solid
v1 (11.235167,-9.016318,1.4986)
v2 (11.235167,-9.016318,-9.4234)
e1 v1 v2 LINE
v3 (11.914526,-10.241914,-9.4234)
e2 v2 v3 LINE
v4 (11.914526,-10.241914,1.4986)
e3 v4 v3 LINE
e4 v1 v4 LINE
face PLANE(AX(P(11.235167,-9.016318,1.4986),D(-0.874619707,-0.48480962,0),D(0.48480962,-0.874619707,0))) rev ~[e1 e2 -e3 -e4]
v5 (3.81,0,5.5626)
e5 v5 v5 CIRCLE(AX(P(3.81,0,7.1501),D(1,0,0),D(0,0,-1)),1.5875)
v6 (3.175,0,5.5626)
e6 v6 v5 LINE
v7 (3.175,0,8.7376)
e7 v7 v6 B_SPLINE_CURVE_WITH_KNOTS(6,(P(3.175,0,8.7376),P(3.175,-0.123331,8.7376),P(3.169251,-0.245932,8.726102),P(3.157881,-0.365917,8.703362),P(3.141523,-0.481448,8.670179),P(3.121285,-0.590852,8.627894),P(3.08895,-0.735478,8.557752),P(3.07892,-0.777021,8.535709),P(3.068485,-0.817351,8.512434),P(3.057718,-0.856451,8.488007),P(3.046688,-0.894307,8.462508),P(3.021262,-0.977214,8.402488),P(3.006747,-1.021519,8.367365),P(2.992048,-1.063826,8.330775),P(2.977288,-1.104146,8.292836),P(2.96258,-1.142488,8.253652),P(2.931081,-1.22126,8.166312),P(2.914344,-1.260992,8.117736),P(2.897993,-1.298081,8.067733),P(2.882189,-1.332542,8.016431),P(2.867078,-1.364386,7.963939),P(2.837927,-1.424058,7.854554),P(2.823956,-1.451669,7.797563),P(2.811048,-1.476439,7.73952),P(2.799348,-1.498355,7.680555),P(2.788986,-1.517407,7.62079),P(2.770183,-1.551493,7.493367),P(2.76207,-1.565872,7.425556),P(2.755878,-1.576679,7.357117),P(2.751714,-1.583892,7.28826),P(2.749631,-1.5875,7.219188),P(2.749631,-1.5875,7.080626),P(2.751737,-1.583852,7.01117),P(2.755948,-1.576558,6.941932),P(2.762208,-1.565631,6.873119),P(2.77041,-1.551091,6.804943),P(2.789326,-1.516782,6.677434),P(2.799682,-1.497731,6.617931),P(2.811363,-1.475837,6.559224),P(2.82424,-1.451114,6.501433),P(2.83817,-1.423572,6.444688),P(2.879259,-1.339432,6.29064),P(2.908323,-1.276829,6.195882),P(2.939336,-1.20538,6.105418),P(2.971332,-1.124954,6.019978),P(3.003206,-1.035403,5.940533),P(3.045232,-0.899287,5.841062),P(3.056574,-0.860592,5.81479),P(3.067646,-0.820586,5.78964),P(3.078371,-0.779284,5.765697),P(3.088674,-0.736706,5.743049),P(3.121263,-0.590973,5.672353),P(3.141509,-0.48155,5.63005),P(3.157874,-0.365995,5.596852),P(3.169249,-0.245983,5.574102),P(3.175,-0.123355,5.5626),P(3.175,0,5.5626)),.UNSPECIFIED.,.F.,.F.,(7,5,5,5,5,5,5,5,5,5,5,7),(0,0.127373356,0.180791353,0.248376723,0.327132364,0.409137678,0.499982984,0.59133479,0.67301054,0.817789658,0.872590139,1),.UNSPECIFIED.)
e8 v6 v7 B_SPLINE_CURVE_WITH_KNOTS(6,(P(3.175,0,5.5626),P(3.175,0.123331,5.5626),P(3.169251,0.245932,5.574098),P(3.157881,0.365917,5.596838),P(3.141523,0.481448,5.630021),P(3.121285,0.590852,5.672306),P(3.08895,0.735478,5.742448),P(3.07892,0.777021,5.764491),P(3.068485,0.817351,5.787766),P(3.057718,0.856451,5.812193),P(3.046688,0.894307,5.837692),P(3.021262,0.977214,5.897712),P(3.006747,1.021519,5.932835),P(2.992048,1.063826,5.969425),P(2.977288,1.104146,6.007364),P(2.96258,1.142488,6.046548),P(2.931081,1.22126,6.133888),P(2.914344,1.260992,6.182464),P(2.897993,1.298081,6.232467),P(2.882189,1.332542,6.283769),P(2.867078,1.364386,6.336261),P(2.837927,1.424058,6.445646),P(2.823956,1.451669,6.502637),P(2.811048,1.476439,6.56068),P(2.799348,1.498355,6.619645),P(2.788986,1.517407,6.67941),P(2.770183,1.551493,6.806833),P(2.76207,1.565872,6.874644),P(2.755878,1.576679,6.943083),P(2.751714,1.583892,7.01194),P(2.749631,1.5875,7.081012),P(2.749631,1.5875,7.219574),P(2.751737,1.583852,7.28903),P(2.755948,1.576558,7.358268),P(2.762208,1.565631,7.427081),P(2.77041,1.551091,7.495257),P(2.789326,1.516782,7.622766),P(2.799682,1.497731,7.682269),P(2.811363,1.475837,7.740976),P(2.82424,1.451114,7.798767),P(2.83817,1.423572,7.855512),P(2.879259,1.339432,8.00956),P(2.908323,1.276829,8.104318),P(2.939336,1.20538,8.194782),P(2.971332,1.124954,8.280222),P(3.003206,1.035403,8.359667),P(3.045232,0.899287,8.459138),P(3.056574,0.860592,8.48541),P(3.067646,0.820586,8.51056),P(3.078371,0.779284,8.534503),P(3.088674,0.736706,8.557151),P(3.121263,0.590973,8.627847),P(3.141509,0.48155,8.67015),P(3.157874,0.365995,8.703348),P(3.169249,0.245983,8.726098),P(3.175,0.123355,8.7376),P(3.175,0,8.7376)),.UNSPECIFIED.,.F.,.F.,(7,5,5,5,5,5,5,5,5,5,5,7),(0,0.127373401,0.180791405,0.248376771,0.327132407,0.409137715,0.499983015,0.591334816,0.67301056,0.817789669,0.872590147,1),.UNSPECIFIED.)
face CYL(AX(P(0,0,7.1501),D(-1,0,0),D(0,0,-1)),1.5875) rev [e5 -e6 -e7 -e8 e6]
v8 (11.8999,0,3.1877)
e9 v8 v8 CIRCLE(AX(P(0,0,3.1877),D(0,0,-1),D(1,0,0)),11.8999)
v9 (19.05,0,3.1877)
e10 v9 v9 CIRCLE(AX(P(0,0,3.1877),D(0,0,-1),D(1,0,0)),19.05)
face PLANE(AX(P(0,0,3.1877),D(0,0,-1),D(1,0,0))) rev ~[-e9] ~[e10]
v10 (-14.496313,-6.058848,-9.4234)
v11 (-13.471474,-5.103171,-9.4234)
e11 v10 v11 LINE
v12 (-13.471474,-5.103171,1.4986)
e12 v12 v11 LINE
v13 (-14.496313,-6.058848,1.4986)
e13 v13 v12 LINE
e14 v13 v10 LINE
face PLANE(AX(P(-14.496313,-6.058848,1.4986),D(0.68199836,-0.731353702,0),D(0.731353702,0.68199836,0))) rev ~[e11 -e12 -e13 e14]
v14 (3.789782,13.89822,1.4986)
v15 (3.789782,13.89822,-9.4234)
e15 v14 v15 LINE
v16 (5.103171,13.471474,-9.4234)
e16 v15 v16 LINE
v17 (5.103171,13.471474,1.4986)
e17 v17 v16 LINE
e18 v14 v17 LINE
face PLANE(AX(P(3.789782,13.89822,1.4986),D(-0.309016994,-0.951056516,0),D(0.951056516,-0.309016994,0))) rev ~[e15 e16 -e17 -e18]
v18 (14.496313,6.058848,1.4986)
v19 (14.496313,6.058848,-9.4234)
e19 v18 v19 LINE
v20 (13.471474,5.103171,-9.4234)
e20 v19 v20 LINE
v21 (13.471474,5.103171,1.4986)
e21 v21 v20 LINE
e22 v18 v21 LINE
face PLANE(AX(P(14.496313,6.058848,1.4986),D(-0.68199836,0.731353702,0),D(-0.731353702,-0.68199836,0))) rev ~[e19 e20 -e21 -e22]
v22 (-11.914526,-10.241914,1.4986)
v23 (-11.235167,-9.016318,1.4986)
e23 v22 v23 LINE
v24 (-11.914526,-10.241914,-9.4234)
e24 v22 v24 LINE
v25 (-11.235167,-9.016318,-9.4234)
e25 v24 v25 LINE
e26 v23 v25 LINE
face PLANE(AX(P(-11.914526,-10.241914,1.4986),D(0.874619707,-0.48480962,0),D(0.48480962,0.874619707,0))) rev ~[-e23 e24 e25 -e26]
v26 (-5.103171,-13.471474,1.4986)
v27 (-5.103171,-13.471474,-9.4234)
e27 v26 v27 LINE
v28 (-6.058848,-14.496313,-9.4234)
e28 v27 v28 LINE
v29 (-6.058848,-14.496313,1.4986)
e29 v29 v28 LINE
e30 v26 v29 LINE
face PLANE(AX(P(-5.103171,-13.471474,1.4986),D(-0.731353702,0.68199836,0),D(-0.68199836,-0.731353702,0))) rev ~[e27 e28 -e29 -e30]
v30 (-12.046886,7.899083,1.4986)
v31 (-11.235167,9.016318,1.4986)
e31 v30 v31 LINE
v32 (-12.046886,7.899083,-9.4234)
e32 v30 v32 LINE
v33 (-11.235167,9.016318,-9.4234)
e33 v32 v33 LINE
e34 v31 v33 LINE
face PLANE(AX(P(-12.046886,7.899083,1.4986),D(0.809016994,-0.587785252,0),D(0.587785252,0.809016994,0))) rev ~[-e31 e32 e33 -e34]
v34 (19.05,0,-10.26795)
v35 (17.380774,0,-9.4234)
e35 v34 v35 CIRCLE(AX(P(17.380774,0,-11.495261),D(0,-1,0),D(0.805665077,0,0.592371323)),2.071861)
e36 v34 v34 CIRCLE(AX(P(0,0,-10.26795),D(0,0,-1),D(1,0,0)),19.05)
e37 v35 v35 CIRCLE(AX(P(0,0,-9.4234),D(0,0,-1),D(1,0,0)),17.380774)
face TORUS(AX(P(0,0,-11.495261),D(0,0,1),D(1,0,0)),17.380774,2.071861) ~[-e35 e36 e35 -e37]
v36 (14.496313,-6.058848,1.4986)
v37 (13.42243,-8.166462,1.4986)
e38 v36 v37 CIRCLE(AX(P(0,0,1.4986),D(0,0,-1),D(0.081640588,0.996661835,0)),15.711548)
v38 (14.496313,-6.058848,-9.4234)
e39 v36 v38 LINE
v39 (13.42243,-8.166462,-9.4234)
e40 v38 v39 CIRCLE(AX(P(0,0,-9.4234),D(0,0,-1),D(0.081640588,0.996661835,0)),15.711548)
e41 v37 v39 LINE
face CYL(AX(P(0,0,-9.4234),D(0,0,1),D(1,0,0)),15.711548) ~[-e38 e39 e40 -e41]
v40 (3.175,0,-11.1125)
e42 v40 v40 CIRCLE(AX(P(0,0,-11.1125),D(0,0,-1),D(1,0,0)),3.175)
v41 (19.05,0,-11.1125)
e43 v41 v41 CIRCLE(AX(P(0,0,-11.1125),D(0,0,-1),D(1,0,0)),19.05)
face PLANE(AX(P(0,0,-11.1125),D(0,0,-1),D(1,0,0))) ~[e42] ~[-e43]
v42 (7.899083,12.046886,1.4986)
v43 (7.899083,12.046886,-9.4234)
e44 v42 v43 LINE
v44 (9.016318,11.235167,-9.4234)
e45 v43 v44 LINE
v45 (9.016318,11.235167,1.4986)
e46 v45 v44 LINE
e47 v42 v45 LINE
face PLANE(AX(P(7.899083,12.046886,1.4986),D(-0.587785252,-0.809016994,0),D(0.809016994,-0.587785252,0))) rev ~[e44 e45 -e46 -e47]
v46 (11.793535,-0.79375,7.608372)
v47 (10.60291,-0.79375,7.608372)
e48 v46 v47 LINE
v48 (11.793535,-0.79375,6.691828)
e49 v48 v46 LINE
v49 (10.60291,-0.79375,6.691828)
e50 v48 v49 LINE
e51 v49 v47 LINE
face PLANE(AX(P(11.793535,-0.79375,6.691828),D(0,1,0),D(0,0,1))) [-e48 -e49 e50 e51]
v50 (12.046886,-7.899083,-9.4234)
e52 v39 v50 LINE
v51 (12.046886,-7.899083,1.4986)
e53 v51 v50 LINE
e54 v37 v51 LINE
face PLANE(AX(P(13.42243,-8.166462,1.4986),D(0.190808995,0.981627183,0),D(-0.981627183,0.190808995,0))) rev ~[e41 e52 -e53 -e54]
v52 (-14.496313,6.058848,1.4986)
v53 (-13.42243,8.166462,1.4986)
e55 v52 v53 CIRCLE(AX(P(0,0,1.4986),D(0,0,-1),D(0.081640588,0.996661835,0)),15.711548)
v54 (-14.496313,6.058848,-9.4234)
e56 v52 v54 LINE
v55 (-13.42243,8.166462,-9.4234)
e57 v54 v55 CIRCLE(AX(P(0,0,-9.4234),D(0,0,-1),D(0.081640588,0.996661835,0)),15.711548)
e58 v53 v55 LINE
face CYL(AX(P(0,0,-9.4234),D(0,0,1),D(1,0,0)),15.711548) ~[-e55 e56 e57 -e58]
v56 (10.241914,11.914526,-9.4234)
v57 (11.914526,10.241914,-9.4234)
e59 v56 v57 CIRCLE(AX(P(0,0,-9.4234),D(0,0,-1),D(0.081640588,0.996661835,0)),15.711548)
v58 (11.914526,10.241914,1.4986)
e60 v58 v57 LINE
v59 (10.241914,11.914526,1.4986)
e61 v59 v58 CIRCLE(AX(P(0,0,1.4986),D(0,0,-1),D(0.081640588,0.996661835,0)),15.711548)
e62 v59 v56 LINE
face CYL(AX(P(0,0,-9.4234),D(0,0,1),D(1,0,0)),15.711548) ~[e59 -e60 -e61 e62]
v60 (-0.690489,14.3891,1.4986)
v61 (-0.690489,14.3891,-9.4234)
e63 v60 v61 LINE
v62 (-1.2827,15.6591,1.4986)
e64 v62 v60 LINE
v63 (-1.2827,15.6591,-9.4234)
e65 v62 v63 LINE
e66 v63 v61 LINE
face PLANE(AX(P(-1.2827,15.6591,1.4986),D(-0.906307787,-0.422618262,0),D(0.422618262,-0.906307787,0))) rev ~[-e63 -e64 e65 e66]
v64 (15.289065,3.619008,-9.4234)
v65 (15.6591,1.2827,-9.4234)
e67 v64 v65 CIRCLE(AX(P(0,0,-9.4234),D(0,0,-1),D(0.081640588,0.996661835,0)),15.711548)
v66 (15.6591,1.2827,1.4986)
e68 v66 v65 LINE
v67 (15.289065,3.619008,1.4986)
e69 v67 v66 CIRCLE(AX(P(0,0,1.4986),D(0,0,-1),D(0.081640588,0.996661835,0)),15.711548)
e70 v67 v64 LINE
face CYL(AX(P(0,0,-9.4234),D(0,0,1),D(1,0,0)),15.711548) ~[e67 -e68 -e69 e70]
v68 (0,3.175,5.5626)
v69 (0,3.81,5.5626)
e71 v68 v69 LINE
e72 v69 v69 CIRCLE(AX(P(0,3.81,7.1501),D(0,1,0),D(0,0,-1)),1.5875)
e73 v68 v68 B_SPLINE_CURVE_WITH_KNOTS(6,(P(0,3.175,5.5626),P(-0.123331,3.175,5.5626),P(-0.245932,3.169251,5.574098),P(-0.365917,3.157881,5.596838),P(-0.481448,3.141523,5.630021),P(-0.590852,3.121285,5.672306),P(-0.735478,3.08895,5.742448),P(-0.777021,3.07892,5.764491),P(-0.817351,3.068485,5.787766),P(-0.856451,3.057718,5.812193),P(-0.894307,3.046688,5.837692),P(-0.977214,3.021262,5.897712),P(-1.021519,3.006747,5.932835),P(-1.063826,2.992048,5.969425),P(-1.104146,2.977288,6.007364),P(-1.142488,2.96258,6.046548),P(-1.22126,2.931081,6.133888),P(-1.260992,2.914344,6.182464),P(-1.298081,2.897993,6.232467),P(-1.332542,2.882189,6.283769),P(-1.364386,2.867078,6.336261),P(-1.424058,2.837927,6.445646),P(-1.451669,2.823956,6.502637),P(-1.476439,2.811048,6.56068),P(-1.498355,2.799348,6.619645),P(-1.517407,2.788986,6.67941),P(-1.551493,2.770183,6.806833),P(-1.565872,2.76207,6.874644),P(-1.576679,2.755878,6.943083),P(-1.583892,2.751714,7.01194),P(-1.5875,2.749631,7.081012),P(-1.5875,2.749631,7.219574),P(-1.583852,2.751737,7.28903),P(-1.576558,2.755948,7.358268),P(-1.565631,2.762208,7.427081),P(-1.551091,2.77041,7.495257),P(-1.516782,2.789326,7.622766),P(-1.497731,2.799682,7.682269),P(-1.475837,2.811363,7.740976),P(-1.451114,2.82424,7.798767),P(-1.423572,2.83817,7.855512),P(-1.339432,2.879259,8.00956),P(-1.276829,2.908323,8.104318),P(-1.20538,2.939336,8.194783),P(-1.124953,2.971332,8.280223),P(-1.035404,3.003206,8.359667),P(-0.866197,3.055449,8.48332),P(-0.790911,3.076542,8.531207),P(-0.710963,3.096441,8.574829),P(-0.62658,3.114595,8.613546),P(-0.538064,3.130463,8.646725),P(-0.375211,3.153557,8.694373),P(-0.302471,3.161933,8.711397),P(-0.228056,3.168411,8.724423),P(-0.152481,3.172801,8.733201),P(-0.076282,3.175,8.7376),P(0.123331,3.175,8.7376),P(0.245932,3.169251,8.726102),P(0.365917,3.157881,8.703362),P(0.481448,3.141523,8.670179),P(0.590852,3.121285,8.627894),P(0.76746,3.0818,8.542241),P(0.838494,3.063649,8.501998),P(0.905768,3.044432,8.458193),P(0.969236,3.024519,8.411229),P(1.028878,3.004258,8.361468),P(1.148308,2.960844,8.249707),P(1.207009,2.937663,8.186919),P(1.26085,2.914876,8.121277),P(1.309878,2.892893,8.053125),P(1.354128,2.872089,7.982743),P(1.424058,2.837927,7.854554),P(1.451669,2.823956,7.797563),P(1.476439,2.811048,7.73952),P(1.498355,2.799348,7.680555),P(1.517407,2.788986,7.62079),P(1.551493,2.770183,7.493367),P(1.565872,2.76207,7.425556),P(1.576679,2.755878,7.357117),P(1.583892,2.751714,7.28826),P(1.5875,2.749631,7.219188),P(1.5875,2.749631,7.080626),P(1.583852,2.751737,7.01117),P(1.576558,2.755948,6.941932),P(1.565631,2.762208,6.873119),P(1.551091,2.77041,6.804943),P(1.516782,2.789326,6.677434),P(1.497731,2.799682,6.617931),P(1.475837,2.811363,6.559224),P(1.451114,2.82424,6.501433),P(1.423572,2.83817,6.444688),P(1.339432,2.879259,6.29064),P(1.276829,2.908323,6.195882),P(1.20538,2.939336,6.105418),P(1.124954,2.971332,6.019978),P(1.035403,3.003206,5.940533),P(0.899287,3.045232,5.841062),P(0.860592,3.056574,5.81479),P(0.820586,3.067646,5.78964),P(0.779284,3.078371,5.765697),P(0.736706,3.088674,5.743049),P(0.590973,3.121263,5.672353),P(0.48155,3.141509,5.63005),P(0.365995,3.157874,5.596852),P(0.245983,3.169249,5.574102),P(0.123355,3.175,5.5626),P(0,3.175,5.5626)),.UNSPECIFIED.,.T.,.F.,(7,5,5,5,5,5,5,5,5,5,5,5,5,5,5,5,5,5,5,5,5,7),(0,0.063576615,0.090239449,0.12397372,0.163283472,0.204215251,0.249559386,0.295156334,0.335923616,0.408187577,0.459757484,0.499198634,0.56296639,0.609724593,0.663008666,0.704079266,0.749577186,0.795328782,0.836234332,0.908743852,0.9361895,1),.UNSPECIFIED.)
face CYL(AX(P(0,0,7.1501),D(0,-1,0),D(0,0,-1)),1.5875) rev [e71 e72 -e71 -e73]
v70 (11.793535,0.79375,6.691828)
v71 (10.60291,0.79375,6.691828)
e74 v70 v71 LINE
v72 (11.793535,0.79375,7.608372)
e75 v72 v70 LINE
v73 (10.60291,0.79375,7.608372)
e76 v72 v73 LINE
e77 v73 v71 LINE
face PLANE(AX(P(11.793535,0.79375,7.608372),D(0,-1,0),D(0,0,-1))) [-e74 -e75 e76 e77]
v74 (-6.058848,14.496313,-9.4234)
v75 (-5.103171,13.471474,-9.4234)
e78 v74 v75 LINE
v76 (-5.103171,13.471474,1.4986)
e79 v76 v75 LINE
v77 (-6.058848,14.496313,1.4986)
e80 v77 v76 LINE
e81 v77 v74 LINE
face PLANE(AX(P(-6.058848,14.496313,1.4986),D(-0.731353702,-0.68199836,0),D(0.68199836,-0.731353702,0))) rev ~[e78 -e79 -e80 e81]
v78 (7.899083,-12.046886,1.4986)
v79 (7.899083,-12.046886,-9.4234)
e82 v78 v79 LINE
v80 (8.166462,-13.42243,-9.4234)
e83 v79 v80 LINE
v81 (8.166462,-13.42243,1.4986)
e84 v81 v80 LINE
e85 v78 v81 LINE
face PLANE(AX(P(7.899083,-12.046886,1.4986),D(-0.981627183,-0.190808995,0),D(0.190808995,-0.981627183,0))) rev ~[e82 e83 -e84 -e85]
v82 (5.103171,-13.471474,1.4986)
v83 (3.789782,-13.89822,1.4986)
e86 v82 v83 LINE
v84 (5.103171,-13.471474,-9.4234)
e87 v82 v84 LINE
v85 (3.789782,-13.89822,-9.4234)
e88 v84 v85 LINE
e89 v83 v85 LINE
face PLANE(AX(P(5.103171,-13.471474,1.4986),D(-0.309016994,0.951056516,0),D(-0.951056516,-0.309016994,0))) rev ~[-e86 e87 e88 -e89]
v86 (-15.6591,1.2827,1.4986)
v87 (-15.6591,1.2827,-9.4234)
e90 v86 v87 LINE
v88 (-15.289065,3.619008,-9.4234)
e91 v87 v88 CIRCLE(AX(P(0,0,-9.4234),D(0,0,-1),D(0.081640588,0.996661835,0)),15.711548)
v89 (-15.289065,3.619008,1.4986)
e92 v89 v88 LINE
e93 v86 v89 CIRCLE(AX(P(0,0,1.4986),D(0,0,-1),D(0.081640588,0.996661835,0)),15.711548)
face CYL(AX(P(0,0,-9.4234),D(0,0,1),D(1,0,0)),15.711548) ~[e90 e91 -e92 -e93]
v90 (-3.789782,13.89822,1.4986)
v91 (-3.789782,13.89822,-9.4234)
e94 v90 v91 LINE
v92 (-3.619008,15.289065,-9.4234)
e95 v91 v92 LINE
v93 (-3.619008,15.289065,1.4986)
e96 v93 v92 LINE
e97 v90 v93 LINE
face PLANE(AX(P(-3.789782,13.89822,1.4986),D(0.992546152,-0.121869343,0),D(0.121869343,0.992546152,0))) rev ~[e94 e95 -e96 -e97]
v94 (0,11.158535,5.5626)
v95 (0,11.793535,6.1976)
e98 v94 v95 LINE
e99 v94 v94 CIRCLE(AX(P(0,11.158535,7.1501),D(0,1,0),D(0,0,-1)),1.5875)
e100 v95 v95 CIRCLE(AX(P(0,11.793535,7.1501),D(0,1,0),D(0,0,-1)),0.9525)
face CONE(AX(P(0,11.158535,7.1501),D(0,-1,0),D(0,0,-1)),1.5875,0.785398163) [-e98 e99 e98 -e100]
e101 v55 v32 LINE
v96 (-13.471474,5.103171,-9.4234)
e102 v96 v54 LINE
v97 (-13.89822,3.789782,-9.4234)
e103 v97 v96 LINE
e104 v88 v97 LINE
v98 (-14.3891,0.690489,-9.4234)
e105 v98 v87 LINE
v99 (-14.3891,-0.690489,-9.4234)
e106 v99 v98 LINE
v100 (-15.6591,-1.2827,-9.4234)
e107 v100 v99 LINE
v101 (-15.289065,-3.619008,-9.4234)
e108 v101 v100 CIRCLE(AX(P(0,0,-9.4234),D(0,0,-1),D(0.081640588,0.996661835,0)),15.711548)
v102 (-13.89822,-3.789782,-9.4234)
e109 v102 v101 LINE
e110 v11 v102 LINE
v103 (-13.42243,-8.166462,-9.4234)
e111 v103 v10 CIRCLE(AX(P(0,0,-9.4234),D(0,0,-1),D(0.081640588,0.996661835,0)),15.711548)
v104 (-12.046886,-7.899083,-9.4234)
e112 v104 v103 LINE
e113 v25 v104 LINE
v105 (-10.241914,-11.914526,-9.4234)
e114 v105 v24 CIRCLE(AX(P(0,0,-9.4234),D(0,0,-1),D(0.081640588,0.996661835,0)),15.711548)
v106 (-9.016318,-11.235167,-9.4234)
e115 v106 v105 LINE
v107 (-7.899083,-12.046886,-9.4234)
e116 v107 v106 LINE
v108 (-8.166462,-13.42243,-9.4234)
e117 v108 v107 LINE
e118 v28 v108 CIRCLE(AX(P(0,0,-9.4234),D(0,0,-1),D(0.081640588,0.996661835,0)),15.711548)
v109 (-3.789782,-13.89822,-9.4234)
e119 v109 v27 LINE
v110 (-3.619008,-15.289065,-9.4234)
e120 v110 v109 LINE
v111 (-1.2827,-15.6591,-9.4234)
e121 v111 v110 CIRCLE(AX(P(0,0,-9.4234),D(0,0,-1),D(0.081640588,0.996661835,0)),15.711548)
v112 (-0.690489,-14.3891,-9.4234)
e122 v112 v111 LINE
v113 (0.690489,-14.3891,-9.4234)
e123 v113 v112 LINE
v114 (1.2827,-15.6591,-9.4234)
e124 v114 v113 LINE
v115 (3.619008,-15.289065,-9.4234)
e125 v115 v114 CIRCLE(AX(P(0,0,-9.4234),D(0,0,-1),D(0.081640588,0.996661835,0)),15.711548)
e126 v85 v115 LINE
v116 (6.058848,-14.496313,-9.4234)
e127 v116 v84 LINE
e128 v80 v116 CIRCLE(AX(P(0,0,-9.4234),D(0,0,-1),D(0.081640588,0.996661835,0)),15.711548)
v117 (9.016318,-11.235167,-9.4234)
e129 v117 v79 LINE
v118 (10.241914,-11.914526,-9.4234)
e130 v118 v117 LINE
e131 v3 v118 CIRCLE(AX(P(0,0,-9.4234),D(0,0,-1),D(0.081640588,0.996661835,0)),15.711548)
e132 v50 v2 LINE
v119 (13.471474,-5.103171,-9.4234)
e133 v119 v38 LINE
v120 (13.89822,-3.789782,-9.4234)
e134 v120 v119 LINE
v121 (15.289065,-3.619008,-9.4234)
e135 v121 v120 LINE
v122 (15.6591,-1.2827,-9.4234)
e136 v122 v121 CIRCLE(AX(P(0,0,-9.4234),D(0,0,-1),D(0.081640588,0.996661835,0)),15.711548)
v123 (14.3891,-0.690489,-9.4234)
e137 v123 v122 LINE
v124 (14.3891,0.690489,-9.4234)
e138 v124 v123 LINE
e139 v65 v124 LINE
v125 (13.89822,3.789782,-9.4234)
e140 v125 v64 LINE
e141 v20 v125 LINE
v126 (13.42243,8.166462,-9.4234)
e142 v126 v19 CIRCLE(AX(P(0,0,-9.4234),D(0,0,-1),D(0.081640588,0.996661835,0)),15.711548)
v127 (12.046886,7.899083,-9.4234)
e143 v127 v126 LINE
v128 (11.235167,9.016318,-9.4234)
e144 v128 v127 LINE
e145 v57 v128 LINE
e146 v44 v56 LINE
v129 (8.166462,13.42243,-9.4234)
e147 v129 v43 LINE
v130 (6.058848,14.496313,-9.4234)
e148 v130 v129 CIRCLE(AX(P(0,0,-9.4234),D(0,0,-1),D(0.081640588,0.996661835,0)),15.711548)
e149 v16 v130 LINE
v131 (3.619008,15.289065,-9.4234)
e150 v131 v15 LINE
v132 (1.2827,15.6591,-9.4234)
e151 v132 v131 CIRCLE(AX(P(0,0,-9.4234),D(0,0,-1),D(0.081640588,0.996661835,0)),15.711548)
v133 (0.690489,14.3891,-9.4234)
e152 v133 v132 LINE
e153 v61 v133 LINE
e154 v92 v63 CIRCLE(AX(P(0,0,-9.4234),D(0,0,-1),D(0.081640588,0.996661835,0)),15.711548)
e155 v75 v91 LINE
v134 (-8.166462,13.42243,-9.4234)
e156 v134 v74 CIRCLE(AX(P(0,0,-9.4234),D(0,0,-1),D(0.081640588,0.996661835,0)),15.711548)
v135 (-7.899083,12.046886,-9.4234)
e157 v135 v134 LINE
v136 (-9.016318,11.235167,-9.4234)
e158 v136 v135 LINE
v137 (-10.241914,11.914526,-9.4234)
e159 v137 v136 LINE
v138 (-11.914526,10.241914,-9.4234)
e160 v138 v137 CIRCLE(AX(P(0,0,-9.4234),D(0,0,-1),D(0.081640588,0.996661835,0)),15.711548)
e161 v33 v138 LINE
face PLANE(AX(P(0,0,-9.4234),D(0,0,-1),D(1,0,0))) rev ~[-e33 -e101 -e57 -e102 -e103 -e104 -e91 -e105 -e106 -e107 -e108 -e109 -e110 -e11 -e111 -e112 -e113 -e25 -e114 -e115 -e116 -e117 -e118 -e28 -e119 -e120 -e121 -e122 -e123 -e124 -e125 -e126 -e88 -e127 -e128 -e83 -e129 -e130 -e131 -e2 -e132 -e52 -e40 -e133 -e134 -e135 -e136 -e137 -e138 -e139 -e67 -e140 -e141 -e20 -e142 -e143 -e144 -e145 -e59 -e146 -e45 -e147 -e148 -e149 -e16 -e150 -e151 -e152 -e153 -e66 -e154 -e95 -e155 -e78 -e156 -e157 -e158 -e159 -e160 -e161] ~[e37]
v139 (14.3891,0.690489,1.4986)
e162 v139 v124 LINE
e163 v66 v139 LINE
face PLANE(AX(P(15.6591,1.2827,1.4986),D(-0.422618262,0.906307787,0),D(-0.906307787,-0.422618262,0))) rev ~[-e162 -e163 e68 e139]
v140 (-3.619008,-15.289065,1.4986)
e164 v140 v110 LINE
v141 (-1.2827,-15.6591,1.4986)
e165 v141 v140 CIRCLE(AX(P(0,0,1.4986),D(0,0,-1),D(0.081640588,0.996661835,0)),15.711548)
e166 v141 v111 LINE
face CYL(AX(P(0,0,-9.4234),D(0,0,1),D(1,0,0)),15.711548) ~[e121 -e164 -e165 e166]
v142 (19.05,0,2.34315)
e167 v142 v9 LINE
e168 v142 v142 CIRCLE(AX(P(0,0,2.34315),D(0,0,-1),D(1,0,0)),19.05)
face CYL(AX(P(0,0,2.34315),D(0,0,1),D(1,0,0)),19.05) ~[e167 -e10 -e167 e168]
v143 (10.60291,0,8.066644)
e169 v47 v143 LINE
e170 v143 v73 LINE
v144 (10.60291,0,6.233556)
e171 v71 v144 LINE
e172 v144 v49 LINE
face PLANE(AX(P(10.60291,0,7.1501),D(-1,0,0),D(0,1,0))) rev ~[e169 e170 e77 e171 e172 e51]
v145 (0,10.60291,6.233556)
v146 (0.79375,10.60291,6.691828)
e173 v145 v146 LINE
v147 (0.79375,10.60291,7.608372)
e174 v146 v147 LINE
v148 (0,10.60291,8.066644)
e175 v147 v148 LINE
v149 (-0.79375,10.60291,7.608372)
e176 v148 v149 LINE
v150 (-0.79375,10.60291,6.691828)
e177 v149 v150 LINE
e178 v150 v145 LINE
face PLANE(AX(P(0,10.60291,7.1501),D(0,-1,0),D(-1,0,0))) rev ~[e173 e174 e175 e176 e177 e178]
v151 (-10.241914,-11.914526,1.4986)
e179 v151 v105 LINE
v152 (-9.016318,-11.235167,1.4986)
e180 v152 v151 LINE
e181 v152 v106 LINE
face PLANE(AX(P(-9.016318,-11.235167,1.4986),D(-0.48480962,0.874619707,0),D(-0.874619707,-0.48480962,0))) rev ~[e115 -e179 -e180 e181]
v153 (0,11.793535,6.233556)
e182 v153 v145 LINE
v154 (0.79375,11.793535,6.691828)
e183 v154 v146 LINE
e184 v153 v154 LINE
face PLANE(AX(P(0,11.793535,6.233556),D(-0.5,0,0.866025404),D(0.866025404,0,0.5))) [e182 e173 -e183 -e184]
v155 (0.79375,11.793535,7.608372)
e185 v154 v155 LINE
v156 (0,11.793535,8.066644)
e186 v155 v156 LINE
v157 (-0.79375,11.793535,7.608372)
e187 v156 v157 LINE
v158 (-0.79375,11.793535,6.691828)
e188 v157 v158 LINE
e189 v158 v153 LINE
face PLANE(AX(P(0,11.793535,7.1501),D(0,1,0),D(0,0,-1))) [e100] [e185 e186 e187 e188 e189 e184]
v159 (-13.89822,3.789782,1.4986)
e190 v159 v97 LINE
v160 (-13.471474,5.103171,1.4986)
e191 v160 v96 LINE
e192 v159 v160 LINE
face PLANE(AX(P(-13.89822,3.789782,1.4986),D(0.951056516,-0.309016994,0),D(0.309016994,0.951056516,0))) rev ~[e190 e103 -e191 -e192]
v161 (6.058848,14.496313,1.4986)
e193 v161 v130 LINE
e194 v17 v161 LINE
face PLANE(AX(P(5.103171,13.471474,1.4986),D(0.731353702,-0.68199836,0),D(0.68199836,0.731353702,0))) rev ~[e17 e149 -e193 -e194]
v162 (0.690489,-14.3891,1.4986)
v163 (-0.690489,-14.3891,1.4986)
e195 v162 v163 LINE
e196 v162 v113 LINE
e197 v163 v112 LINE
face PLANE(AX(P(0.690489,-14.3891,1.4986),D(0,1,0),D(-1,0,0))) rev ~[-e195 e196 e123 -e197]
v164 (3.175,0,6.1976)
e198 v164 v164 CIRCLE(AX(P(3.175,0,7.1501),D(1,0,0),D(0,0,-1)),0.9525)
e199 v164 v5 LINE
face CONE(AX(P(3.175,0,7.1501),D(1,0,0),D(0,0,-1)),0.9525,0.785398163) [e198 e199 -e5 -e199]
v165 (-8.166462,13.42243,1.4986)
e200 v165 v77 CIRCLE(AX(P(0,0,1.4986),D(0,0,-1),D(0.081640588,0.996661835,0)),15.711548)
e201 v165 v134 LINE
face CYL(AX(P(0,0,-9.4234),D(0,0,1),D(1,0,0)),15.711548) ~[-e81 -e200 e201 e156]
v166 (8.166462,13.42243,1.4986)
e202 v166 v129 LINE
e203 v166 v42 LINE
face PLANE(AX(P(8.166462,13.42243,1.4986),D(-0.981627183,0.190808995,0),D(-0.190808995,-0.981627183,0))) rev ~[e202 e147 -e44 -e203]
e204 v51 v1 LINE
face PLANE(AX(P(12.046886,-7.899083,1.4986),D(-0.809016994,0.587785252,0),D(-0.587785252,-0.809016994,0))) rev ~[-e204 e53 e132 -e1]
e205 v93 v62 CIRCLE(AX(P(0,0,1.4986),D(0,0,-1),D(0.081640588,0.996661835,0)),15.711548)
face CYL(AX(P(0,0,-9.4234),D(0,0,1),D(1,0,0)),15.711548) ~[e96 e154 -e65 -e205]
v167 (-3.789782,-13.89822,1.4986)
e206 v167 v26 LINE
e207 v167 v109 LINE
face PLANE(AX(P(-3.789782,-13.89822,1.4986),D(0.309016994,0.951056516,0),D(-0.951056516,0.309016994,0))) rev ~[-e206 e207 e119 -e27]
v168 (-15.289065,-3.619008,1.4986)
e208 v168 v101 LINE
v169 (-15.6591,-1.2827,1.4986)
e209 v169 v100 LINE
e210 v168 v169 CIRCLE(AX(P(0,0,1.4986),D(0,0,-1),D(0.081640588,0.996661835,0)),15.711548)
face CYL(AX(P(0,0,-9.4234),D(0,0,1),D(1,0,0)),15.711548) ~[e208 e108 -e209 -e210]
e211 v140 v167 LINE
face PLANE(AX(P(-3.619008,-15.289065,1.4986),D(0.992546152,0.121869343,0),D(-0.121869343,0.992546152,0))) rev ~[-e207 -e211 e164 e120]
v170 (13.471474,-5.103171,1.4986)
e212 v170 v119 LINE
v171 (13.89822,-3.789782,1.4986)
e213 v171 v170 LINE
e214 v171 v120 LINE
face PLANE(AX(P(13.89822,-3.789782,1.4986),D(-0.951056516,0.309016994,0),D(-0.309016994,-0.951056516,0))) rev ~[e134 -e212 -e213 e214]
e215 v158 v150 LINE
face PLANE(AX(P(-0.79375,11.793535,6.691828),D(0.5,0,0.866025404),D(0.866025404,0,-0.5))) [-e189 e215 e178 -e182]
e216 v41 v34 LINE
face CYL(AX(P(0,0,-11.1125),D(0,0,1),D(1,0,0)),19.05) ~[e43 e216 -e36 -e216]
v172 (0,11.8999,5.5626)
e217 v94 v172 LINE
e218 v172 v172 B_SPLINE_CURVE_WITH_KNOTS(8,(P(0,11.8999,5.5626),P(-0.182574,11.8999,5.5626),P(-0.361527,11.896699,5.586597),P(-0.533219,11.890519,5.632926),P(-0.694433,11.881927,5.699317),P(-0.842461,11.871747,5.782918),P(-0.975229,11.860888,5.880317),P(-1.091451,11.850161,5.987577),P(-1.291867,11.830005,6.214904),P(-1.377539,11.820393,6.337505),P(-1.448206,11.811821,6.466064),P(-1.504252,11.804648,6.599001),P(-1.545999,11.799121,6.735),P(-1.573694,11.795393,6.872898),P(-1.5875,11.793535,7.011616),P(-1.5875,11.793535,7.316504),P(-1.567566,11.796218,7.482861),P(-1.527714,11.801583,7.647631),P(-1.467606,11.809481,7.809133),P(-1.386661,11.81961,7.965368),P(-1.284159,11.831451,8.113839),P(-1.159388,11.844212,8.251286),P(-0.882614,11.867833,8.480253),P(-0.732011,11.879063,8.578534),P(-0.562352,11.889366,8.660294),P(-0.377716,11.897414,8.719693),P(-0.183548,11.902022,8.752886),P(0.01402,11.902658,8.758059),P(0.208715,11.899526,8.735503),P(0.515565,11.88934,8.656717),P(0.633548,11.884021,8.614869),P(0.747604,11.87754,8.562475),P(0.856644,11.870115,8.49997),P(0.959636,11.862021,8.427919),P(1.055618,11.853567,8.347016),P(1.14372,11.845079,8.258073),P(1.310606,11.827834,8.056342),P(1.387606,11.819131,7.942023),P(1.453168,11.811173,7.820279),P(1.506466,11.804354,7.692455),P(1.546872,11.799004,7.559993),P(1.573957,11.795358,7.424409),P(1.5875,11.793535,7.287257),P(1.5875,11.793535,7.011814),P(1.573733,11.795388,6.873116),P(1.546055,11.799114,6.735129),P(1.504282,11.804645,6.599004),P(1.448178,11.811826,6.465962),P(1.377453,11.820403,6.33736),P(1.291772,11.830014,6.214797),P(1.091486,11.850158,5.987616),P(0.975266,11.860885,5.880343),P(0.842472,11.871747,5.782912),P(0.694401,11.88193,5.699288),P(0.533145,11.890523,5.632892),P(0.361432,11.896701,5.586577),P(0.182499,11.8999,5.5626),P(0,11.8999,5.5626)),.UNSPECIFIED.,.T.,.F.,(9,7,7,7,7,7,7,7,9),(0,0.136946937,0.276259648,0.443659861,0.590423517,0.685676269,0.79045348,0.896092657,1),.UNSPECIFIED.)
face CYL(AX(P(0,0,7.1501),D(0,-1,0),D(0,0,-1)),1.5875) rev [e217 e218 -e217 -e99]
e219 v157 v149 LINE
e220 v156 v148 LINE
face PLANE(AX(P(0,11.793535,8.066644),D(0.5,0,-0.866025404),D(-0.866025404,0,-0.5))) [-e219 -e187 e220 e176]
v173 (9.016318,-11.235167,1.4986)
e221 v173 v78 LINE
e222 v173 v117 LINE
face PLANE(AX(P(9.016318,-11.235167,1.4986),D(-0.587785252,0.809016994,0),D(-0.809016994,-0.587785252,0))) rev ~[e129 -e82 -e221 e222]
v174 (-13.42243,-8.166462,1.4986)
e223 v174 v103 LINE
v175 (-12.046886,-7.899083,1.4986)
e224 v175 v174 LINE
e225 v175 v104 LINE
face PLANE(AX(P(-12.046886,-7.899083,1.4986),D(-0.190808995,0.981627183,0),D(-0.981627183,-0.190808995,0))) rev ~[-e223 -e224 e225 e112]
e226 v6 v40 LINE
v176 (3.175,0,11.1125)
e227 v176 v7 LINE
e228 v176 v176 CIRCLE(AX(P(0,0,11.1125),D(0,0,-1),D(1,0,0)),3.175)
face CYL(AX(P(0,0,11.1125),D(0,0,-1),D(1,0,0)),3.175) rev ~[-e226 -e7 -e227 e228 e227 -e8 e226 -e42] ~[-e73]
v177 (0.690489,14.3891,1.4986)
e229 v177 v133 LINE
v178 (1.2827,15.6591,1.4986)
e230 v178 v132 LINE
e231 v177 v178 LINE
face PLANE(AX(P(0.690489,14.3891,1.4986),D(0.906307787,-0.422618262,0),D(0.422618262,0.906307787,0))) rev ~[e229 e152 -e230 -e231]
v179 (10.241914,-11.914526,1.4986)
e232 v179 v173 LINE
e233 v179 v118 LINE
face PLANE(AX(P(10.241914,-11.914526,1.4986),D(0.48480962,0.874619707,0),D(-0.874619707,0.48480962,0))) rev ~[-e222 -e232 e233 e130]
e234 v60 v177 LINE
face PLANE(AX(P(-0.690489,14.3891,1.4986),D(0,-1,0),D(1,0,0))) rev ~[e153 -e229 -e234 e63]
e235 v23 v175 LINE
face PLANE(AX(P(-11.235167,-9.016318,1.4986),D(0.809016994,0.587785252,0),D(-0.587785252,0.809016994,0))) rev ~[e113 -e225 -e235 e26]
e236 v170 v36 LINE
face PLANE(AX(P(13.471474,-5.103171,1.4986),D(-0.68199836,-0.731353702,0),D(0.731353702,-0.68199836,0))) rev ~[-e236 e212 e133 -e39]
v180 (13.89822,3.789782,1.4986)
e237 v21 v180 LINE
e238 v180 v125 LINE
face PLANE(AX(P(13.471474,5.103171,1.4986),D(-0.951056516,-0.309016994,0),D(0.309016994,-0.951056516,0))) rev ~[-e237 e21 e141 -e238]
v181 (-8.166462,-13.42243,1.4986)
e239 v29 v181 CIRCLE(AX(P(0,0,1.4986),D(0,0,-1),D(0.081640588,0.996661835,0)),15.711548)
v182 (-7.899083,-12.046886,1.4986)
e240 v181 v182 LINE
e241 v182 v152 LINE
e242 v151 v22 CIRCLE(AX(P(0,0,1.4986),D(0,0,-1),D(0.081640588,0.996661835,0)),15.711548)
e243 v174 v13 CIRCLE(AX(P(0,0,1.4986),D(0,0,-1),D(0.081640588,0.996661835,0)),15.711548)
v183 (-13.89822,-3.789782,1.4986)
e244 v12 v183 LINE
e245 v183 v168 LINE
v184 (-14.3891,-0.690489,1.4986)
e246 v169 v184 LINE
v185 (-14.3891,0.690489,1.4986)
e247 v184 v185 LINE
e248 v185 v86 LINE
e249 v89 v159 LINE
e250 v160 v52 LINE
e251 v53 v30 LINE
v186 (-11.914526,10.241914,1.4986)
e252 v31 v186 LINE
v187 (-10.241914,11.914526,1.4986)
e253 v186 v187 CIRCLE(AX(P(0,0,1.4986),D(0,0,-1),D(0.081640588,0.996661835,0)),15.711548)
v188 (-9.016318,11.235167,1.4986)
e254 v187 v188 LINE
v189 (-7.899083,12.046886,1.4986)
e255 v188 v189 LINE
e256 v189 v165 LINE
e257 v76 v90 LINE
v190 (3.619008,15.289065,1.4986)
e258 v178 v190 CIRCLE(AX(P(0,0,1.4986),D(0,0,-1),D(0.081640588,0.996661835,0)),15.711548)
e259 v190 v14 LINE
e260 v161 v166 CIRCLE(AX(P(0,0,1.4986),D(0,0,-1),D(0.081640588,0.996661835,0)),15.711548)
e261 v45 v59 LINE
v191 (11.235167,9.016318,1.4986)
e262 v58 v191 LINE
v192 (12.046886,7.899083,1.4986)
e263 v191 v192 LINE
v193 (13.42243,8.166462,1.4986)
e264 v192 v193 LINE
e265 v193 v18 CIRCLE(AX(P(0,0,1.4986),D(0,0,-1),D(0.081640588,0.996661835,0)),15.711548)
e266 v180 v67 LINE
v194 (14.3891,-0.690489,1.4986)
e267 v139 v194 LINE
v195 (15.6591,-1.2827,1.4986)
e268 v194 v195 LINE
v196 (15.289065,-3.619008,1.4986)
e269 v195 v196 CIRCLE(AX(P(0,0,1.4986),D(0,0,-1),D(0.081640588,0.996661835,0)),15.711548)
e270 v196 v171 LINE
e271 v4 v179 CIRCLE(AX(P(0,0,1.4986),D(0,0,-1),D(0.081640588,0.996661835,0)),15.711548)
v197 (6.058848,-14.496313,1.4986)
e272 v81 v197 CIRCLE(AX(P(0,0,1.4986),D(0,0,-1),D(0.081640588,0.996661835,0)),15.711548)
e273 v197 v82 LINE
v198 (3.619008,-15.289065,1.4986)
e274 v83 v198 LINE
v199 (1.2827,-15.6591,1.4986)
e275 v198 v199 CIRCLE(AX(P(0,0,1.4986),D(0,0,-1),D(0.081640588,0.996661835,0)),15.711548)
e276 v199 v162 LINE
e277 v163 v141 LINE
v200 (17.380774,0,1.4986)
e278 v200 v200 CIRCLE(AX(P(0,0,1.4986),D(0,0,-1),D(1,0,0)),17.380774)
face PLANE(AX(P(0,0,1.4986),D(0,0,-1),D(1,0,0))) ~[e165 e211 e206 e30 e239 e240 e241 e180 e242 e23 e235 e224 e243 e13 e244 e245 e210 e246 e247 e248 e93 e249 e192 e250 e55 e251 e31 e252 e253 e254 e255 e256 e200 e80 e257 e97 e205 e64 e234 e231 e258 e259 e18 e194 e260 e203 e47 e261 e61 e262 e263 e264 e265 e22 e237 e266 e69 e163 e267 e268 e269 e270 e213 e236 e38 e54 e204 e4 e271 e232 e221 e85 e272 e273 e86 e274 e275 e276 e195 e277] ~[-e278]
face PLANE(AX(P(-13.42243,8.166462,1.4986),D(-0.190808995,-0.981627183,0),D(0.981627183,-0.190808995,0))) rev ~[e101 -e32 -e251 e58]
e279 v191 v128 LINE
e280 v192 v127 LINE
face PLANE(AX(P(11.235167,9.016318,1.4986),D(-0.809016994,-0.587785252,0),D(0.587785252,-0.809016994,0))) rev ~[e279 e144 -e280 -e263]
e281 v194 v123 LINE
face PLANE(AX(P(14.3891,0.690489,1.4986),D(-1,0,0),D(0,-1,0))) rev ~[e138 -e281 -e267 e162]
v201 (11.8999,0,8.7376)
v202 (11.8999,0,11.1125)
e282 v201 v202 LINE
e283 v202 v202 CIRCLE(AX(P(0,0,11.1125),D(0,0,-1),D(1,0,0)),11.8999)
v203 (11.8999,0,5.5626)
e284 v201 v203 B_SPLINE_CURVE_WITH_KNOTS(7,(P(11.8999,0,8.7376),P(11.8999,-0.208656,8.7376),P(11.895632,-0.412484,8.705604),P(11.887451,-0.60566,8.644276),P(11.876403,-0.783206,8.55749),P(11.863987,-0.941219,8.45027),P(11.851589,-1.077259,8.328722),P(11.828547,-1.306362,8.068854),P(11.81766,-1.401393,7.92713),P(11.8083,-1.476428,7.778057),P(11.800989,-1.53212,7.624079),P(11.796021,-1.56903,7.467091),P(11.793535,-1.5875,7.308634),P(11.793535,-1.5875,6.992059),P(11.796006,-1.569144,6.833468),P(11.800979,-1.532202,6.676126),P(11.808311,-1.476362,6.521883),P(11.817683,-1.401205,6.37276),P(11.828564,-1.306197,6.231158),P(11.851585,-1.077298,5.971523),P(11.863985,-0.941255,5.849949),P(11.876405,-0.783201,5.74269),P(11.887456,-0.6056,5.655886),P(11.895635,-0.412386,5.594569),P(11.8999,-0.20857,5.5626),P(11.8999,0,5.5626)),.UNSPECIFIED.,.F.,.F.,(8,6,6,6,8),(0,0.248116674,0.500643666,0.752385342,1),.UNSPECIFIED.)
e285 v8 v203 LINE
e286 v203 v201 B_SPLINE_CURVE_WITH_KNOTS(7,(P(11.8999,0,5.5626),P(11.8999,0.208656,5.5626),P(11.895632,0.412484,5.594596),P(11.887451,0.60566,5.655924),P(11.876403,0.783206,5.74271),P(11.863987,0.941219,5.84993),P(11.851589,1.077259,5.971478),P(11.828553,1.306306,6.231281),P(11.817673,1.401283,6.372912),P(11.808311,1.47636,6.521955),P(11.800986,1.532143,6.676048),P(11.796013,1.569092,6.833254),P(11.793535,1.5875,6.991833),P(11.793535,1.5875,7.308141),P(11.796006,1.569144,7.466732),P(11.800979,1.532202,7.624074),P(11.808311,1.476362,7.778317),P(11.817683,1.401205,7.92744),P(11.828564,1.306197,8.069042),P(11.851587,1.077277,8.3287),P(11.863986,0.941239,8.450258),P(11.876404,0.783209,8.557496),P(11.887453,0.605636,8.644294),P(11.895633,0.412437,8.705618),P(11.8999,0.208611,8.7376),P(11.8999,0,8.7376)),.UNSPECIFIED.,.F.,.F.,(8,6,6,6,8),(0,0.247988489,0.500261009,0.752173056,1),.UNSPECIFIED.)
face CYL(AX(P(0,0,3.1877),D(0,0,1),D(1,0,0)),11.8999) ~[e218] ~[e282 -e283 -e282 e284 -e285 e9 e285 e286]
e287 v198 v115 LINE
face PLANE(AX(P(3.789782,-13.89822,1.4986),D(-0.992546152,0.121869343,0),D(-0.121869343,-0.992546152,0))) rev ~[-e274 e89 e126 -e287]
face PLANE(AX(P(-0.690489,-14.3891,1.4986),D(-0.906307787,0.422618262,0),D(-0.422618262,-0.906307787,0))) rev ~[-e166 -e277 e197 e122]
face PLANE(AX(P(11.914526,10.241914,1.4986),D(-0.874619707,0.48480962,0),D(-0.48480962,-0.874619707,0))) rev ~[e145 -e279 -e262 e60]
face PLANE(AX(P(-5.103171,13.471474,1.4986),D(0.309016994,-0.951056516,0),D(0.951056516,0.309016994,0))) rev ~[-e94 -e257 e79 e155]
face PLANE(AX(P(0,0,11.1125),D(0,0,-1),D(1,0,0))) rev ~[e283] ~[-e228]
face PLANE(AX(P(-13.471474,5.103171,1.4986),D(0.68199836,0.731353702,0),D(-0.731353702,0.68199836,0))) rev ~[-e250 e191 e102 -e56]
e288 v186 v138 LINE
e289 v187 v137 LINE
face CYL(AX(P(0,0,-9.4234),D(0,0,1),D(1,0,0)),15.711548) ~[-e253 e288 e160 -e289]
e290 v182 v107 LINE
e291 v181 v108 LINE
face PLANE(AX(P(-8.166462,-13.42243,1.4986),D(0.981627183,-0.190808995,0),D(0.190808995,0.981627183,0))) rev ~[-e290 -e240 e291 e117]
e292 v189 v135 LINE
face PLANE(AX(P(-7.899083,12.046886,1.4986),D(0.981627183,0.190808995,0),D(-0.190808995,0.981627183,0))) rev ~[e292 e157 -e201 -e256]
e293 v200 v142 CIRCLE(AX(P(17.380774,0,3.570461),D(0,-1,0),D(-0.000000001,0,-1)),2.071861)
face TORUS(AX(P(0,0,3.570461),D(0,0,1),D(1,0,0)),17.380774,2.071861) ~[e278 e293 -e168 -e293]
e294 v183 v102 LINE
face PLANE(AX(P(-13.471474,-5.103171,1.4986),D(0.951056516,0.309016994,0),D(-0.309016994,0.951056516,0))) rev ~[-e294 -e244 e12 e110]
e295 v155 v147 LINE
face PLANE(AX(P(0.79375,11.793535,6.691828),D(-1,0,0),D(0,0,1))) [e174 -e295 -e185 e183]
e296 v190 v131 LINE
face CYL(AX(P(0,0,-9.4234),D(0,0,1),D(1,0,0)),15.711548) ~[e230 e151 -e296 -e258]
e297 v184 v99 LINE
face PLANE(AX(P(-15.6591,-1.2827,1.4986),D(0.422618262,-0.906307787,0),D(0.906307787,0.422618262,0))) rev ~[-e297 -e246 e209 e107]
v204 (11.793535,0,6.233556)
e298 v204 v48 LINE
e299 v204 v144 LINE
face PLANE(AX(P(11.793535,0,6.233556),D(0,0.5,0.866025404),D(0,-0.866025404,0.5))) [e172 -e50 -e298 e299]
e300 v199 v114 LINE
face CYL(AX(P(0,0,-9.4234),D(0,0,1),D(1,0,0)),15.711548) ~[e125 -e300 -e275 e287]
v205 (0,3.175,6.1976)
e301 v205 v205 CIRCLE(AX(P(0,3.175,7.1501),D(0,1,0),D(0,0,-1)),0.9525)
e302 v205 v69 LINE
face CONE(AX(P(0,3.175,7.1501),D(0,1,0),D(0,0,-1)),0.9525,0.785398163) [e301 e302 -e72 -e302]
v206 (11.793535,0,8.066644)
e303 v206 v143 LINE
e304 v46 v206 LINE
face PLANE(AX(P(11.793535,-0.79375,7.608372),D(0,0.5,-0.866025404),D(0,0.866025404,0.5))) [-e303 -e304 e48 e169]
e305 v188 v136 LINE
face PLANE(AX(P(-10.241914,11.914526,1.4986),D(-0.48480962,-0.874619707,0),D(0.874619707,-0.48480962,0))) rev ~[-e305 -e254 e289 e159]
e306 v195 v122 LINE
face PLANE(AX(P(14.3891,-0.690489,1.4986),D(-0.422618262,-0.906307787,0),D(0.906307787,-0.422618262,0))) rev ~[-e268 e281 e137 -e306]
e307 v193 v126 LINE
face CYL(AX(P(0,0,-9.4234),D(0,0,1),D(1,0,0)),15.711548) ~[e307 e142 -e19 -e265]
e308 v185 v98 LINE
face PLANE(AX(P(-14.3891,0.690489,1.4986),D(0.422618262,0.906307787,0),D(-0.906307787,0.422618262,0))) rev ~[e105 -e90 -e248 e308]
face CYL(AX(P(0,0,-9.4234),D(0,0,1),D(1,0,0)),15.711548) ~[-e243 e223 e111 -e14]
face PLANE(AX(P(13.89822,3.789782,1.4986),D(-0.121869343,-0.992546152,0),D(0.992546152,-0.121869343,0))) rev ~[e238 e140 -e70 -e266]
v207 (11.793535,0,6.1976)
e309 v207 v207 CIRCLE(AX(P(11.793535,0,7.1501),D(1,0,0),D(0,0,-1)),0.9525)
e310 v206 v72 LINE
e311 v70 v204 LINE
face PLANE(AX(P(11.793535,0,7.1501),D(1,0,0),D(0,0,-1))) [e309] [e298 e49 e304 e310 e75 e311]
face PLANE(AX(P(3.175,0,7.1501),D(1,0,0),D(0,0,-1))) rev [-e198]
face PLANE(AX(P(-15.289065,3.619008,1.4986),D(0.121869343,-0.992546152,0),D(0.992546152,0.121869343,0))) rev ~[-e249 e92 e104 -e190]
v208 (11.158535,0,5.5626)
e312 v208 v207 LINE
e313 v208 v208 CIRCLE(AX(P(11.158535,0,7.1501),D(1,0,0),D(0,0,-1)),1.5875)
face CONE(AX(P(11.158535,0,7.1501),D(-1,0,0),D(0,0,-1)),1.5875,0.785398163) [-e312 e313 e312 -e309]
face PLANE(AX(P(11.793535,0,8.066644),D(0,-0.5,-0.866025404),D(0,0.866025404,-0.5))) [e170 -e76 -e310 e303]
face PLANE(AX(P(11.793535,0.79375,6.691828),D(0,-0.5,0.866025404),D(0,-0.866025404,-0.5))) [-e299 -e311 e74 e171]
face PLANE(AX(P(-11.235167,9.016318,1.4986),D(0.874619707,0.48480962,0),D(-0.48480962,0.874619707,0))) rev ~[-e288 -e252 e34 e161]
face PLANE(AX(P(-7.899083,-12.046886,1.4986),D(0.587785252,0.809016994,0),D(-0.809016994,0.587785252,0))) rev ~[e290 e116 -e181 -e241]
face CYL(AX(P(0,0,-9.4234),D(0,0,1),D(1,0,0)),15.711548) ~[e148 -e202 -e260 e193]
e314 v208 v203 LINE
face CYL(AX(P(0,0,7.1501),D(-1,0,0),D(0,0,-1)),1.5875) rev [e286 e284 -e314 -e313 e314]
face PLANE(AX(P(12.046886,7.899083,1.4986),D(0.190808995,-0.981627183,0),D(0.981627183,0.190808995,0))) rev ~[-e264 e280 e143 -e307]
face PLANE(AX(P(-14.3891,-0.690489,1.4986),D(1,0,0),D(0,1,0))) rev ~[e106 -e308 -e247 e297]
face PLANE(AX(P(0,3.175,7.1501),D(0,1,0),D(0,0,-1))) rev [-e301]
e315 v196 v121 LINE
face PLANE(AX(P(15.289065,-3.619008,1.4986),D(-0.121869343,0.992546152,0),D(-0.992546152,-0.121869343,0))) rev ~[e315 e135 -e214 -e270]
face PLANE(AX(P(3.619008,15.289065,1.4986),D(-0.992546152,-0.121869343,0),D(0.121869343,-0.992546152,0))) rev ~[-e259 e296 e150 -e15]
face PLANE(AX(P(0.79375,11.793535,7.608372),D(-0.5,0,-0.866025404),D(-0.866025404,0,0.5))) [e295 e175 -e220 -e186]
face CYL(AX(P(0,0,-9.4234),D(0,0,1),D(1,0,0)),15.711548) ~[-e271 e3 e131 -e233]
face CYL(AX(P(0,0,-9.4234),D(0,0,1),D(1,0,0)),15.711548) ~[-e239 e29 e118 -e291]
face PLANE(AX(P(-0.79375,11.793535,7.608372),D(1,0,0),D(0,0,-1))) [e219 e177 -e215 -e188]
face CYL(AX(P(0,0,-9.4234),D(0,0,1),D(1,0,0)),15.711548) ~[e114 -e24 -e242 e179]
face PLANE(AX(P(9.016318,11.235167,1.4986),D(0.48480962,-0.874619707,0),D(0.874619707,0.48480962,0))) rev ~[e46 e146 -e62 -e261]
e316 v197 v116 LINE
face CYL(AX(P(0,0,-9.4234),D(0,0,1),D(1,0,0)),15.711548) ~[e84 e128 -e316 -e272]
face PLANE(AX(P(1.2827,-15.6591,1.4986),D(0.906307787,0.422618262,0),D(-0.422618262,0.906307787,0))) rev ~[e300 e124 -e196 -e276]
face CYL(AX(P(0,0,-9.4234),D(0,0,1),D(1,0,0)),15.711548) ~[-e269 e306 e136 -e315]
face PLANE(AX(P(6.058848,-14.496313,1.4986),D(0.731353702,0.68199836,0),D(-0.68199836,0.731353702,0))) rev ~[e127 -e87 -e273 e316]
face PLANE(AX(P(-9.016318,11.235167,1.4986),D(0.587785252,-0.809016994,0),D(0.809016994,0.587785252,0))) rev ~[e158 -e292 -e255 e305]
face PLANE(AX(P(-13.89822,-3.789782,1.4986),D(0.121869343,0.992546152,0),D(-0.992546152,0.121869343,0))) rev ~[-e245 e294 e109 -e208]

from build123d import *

# Parameters (mm, degrees)
CUT_EXTRUDE1_START = 1.4986
CUT_EXTRUDE1_DEPTH = 10.922
CIRPATTERN1_COUNT  = 20
SKETCH4_R          = 1.5875
CUT_EXTRUDE2_DEPTH = 30.142626104
CUT_EXTRUDE3_DEPTH = 1.190625
CIRPATTERN2_COUNT  = 2
CIRPATTERN2_ANGLE  = 90


with BuildPart() as part:
    # Sketch2 → Revolve1 (revolve)
    with BuildSketch(Plane(origin=(0, 0, 0), x_dir=(0, 0, -1), z_dir=(1, 0, 0)), mode=Mode.PRIVATE) as revolve1_sk:
        with BuildLine():
            Line((-11.1125, 3.175), (11.1125, 3.175))
            Line((11.1125, 3.175), (11.1125, 19.05))
            Line((11.1125, 19.05), (10.26795, 19.05))
            ThreePointArc((10.26795, 19.05), (9.646555263, 18.316132165), (9.4234, 17.380773865))
            Line((9.4234, 17.380773865), (9.4234, 15.711547731))
            Line((9.4234, 15.711547731), (-1.4986, 15.711547731))
            Line((-1.4986, 15.711547731), (-1.4986, 17.380773865))
            ThreePointArc((-1.4986, 17.380773865), (-1.721755263, 18.316132165), (-2.34315, 19.05))
            Line((-2.34315, 19.05), (-3.1877, 19.05))
            Line((-3.1877, 19.05), (-3.1877, 11.8999))
            Line((-3.1877, 11.8999), (-11.1125, 11.8999))
            Line((-11.1125, 11.8999), (-11.1125, 3.175))
        make_face()
    revolve(revolve1_sk.sketch.rotate(Axis((0, 0, 11.1125), (0, 0, -1)), 90), axis=Axis((0, 0, 11.1125), (0, 0, -1)))

    # Sketch3 → Cut-Extrude1 (cut)
    with BuildSketch(Plane.XY.offset(CUT_EXTRUDE1_START)):
        with BuildLine():
            Line((-0.690489274, 14.3891), (0.690489274, 14.3891))
            Line((0.690489274, 14.3891), (1.2827, 15.6591))
            ThreePointArc((1.2827, 15.6591), (0, 15.711547731), (-1.2827, 15.6591))
            Line((-1.2827, 15.6591), (-0.690489274, 14.3891))
        make_face()
    cut_extrude1 = extrude(amount=-CUT_EXTRUDE1_DEPTH, mode=Mode.SUBTRACT)

    # CirPattern1: Cut-Extrude1 ×20 about axis
    cirpattern1_axis = Axis((0, 0, 0), (0, 0, 1))
    for i in range(1, CIRPATTERN1_COUNT):
        add(cut_extrude1.rotate(cirpattern1_axis, i * 360 / CIRPATTERN1_COUNT), mode=Mode.SUBTRACT)

    # Sketch4 → Cut-Extrude2 (cut, through all)
    with BuildSketch(Plane(origin=(0, 0, 0), x_dir=(1, 0, 0), z_dir=(0, 1, 0))):
        with Locations(Location((0, -7.1501, 0), (0, 0, 90))):
            Circle(SKETCH4_R)
    cut_extrude2 = extrude(amount=CUT_EXTRUDE2_DEPTH, mode=Mode.SUBTRACT)

    # Sketch5 → Revolve2 (revolve)
    with BuildSketch(Plane.XY.offset(7.1501), mode=Mode.PRIVATE) as revolve2_sk:
        Polygon((0, 11.793534829), (0, 3.175), (-0.9525, 3.175), (-1.5875, 3.81), (-1.5875, 11.158534829), (-0.9525, 11.793534829), align=None)
    revolve2 = revolve(revolve2_sk.sketch.rotate(Axis((0, 0, 7.1501), (0, 1, 0)), 270), axis=Axis((0, 0, 7.1501), (0, 1, 0)))

    # Sketch6 → Cut-Extrude3 (cut)
    with BuildSketch(Plane(origin=(0, 11.793534829, 0), x_dir=(-1, 0, 0), z_dir=(0, -1, 0))):
        Polygon((0, -6.233556448), (-0.79375, -6.691828224), (-0.79375, -7.608371776), (0, -8.066643552), (0.79375, -7.608371776), (0.79375, -6.691828224), align=None)
    cut_extrude3 = extrude(amount=CUT_EXTRUDE3_DEPTH, mode=Mode.SUBTRACT)

    # CirPattern2: Cut-Extrude2, Revolve2, Cut-Extrude3 ×2 about axis
    cirpattern2_axis = Axis((0, 0, 0), (0, 0, -1))
    add([cut_extrude2.rotate(cirpattern2_axis, i * CIRPATTERN2_ANGLE / (CIRPATTERN2_COUNT - 1)) for i in range(1, CIRPATTERN2_COUNT)], mode=Mode.SUBTRACT)
    add([revolve2.rotate(cirpattern2_axis, i * CIRPATTERN2_ANGLE / (CIRPATTERN2_COUNT - 1)) for i in range(1, CIRPATTERN2_COUNT)])
    add([cut_extrude3.rotate(cirpattern2_axis, i * CIRPATTERN2_ANGLE / (CIRPATTERN2_COUNT - 1)) for i in range(1, CIRPATTERN2_COUNT)], mode=Mode.SUBTRACT)


solid = part.part
